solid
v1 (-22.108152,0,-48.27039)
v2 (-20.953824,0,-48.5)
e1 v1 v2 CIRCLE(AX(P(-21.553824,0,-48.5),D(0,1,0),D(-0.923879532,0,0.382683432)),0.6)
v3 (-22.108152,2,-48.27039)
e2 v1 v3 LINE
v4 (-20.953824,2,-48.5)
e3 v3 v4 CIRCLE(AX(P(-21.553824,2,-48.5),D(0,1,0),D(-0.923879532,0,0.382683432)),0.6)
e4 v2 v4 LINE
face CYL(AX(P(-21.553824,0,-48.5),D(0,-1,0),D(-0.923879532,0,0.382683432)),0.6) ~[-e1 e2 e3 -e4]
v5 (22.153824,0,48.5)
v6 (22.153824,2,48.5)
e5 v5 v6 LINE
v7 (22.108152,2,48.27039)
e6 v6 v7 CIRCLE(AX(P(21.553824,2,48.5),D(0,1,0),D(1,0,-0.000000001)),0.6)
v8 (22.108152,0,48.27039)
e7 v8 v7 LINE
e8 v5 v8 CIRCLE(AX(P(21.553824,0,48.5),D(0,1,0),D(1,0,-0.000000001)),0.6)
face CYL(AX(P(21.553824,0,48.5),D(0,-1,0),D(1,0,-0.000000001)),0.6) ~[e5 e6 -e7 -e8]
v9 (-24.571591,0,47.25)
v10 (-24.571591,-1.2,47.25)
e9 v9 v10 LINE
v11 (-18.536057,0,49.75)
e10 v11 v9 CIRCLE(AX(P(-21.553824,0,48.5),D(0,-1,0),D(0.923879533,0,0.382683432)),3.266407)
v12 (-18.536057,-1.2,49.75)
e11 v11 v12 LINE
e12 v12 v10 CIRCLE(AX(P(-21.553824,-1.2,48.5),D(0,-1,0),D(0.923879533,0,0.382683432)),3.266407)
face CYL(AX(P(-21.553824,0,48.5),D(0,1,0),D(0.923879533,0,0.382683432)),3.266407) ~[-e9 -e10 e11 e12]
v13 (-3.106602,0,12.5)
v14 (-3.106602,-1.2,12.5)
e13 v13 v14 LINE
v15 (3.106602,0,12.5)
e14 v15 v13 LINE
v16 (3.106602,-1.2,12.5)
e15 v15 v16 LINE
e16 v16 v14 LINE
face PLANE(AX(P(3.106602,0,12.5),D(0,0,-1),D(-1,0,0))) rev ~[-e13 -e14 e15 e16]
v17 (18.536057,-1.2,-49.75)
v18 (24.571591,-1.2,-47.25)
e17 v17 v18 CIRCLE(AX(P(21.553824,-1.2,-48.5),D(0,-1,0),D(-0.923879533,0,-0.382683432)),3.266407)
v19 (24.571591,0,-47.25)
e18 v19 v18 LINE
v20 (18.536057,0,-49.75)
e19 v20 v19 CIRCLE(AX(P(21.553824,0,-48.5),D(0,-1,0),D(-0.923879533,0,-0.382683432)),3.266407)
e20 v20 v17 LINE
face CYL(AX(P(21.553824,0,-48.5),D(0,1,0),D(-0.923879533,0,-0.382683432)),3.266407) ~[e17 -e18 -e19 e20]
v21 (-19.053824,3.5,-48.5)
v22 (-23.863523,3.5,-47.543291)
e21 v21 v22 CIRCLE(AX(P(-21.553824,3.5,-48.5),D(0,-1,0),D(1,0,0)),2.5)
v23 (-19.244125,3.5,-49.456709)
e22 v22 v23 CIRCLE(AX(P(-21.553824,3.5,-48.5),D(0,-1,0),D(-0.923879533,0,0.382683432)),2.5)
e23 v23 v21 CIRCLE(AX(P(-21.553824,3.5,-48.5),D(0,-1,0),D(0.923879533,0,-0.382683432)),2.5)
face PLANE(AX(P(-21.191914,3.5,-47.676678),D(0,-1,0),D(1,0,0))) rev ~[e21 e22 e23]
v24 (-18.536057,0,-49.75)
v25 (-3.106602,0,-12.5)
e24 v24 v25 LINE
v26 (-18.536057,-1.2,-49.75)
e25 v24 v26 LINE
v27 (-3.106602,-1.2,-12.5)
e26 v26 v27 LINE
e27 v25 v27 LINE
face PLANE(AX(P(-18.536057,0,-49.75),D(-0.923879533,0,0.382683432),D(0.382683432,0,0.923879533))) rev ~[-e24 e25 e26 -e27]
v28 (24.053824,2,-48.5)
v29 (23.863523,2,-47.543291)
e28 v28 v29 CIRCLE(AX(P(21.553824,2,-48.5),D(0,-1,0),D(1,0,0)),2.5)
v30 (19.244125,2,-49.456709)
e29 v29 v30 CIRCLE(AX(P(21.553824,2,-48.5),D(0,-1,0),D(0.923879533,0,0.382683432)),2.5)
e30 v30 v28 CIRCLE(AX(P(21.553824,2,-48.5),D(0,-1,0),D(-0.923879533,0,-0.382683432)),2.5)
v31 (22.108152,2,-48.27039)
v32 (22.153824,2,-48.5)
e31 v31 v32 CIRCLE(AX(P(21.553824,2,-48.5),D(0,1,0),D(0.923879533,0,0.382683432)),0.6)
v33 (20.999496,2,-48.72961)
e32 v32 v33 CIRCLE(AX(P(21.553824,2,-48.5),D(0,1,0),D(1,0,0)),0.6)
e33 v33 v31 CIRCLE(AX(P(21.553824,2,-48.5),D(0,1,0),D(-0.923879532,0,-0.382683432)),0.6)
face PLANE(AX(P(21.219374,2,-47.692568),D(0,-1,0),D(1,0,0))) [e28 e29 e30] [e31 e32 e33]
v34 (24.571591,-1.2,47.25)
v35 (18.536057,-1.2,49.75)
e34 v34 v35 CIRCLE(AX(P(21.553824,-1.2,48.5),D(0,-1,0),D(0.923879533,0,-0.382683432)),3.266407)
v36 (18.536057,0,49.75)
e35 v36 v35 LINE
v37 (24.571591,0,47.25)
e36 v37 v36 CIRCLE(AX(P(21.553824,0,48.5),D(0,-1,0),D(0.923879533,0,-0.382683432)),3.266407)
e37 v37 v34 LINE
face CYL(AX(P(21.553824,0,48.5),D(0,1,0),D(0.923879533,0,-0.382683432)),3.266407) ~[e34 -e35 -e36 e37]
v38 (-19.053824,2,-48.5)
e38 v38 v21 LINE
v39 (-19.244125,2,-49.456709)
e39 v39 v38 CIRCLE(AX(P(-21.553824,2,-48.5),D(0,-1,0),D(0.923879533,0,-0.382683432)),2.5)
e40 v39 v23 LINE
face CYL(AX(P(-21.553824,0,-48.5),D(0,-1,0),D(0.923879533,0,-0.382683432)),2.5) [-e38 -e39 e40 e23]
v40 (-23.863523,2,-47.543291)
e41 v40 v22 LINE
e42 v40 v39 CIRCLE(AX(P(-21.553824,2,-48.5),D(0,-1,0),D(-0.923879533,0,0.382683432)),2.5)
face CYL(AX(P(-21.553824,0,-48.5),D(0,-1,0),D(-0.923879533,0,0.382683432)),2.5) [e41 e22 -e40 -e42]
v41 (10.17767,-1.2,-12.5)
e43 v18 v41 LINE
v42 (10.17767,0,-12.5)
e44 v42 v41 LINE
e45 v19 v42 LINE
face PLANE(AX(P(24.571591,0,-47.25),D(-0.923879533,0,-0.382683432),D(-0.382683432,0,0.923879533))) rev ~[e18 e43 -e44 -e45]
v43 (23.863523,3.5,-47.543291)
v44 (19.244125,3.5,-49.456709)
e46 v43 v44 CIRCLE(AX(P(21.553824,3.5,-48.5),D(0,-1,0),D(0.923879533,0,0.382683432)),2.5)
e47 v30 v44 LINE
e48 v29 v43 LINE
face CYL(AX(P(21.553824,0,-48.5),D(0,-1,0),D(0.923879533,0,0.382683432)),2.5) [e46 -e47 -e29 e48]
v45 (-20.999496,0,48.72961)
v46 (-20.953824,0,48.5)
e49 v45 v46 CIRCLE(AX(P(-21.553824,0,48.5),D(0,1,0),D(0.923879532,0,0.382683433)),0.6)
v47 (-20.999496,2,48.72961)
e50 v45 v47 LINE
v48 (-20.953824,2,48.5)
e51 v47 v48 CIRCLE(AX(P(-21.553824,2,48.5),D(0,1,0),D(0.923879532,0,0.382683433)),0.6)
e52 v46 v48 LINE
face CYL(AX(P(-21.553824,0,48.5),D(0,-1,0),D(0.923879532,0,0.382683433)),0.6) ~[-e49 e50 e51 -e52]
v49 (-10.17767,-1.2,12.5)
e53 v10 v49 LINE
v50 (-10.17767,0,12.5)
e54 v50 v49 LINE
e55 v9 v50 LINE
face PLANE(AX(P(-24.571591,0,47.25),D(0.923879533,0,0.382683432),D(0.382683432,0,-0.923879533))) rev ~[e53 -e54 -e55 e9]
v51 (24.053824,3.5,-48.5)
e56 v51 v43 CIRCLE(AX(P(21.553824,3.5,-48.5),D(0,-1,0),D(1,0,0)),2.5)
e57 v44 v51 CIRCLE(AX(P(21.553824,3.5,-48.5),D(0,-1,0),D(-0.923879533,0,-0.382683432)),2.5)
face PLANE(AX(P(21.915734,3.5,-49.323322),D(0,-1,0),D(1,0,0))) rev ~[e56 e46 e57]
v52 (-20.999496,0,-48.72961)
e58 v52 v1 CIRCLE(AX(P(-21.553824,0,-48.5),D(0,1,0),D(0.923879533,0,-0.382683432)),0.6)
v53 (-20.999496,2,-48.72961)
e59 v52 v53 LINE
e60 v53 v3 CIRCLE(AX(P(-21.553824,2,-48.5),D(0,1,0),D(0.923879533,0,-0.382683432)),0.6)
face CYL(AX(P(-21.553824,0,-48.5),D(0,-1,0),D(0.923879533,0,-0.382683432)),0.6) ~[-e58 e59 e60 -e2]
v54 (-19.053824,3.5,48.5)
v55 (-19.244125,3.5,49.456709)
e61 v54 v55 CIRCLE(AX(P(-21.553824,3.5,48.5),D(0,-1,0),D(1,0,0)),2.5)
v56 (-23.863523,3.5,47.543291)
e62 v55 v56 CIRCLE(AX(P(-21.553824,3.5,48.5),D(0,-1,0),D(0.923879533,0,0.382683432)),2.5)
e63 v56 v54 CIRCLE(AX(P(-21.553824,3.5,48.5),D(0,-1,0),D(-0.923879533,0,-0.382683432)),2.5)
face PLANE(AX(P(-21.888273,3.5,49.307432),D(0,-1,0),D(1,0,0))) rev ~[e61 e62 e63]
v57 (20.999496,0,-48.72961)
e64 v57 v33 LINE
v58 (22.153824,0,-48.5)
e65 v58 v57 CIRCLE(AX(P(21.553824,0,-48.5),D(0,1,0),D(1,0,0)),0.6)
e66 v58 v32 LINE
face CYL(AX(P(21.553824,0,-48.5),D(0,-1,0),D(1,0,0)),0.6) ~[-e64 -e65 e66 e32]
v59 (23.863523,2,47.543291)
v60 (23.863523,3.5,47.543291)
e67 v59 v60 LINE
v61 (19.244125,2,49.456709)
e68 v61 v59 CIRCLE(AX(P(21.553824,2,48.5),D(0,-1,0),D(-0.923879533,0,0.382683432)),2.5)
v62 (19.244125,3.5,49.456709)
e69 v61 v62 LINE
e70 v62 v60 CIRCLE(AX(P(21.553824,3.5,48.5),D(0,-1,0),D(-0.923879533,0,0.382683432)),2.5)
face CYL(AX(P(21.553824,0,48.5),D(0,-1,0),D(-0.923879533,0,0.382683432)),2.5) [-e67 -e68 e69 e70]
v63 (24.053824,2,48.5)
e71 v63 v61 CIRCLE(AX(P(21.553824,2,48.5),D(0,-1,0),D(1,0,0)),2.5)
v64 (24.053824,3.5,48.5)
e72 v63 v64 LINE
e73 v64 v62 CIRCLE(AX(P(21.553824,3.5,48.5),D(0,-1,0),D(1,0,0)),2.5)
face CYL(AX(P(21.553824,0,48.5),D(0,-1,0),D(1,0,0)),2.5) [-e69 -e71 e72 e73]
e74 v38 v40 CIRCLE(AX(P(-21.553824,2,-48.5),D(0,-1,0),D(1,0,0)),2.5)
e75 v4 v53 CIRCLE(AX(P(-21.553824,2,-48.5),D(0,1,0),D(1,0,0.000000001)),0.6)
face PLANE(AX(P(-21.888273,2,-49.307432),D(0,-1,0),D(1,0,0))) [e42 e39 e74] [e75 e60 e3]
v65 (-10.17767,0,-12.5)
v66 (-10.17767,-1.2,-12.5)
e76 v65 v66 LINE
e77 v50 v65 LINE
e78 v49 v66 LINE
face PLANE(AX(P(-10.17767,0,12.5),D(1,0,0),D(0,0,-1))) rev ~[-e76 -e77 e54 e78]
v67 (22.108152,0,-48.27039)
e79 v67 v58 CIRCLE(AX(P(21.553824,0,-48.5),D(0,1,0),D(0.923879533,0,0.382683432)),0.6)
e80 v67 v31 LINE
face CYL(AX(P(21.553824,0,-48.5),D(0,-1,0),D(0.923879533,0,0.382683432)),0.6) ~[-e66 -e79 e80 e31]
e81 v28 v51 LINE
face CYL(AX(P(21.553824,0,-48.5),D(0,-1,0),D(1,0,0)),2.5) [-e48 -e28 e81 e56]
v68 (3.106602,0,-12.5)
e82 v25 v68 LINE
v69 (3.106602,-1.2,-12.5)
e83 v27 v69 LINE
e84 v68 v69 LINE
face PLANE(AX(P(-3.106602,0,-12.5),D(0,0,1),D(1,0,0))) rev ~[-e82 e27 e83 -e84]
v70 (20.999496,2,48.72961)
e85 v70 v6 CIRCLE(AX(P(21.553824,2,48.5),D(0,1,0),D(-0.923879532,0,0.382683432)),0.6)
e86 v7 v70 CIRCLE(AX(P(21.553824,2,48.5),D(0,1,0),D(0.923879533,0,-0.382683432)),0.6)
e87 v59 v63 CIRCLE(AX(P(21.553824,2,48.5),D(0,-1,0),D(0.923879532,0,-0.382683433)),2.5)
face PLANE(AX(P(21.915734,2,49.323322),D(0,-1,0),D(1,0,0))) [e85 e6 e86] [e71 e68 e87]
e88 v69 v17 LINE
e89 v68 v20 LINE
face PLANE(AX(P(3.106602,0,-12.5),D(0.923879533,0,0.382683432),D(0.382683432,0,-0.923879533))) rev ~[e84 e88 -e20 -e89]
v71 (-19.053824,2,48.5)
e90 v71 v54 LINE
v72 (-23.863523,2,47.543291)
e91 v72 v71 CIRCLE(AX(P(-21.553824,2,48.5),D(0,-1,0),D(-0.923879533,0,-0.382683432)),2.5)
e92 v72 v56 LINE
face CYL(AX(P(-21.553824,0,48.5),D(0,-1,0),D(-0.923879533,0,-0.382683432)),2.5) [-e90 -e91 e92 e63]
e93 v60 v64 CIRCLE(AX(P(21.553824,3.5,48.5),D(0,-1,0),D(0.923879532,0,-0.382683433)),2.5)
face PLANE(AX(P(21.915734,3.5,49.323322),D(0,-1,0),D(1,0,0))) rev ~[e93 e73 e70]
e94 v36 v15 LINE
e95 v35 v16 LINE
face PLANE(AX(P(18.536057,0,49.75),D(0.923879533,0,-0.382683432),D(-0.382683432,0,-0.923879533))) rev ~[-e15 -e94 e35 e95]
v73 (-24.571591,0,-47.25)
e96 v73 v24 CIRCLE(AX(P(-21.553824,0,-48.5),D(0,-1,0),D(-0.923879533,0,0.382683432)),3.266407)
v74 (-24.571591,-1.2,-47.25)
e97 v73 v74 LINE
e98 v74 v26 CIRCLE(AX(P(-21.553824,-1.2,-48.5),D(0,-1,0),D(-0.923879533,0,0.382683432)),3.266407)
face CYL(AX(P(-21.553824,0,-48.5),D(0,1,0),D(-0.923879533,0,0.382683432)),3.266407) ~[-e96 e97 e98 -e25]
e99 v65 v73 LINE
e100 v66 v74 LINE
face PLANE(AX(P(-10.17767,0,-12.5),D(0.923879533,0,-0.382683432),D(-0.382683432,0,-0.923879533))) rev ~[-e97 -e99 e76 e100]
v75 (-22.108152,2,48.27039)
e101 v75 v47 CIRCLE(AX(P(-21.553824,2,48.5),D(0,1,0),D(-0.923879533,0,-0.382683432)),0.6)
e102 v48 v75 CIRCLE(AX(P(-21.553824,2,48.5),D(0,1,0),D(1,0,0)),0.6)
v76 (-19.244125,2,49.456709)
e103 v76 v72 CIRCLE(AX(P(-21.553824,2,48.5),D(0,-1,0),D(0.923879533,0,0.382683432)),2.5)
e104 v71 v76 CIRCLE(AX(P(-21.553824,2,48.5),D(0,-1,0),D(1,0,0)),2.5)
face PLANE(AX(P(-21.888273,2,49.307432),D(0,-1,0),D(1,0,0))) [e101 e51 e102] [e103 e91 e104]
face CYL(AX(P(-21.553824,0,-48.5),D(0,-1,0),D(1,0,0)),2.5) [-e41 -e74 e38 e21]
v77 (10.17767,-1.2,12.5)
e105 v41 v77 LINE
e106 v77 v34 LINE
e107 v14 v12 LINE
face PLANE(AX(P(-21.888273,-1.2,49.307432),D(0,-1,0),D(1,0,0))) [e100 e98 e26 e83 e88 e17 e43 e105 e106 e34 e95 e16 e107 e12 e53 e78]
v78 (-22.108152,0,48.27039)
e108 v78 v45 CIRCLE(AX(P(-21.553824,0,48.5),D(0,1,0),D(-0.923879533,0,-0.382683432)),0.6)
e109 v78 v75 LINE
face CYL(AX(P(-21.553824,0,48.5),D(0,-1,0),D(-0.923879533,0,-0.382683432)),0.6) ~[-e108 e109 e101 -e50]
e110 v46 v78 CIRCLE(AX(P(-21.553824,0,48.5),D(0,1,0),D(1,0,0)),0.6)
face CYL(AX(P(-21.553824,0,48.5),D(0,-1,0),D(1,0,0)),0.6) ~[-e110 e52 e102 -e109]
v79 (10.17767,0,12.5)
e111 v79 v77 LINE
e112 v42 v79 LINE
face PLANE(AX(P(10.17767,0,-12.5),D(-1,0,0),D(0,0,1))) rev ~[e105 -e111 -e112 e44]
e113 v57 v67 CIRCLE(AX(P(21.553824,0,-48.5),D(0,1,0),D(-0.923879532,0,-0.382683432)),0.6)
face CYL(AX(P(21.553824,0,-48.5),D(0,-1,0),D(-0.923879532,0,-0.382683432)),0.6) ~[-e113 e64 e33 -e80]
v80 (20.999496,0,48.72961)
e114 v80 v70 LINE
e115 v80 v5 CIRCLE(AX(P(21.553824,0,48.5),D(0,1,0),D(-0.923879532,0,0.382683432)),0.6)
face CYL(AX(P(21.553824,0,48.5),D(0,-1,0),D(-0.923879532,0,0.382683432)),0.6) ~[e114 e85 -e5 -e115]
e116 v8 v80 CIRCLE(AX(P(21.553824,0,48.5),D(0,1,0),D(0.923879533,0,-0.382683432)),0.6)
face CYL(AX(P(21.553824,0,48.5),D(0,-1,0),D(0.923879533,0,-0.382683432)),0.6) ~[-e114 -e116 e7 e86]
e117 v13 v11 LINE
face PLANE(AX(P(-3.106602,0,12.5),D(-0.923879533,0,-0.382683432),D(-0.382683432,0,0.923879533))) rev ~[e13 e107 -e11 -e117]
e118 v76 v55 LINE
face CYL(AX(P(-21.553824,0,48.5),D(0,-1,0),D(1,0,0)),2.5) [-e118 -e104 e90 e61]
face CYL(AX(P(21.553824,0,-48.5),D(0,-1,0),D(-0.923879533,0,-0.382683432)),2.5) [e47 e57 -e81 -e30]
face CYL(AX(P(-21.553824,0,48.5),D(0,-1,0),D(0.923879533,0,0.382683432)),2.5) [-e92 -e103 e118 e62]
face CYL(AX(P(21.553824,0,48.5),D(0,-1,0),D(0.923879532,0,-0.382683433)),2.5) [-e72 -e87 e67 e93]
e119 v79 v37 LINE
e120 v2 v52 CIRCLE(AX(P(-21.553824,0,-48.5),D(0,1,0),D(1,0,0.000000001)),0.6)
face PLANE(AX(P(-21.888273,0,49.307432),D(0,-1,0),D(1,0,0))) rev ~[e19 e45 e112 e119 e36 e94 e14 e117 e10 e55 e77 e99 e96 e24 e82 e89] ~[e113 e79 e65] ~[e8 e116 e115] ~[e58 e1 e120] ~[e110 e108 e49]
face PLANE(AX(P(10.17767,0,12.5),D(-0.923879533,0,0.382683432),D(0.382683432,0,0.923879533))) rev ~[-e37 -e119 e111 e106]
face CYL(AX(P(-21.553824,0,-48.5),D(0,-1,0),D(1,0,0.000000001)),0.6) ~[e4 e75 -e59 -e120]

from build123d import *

# Parameters (mm, degrees)
F1_DEPTH = 1.2
F2_DEPTH = 3.5
F3_DEPTH = 2


with BuildPart() as f1:
    # F0 (on Front) → F1 (new body)
    with BuildSketch(Plane.XZ):
        with BuildLine():
            ThreePointArc((-19.2441250379, 49.4567085809), (-22.5105324501, 50.8096988313), (-23.8635227004, 47.5432914191))
            Line((-23.8635227004, 47.5432914191), (-22.1081515887, 48.2703899406))
            ThreePointArc((-22.1081515887, 48.2703899406), (-21.7834339286, 49.0543277195), (-20.9994961497, 48.7296100594))
            Line((-20.9994961497, 48.7296100594), (-19.2441250379, 49.4567085809))
        make_face()
        with BuildLine():
            Line((-22.1081515887, 48.2703899406), (-23.8635227004, 47.5432914191))
            ThreePointArc((-23.8635227004, 47.5432914191), (-21.0660980641, 46.048036799), (-19.0538238692, 48.5))
            ThreePointArc((-19.0538238692, 48.5), (-19.1018606682, 48.987725805), (-19.2441250379, 49.4567085809))
            Line((-19.2441250379, 49.4567085809), (-20.9994961497, 48.7296100594))
            ThreePointArc((-20.9994961497, 48.7296100594), (-20.9653527009, 48.6170541932), (-20.9538238692, 48.5))
            ThreePointArc((-20.9538238692, 48.5), (-21.436769676, 47.9115288318), (-22.1081515887, 48.2703899406))
        make_face()
        with BuildLine():
            Line((-20.9994961497, 48.7296100594), (-22.1081515887, 48.2703899406))
            ThreePointArc((-22.1081515887, 48.2703899406), (-21.436769676, 47.9115288318), (-20.9538238692, 48.5))
            ThreePointArc((-20.9538238692, 48.5), (-20.9653527009, 48.6170541932), (-20.9994961497, 48.7296100594))
        make_face()
        with BuildLine():
            ThreePointArc((-20.9994961497, 48.7296100594), (-21.7834339286, 49.0543277195), (-22.1081515887, 48.2703899406))
            Line((-22.1081515887, 48.2703899406), (-20.9994961497, 48.7296100594))
        make_face()
        with BuildLine():
            ThreePointArc((22.1538238692, 48.5), (21.6708780624, 49.0884711682), (20.9994961497, 48.7296100594))
            Line((20.9994961497, 48.7296100594), (22.1081515887, 48.2703899406))
            ThreePointArc((22.1081515887, 48.2703899406), (22.1422950374, 48.3829458068), (22.1538238692, 48.5))
        make_face()
        with BuildLine():
            ThreePointArc((24.0538238692, 48.5), (22.0415496742, 50.951963201), (19.2441250379, 49.4567085809))
            Line((19.2441250379, 49.4567085809), (20.9994961497, 48.7296100594))
            ThreePointArc((20.9994961497, 48.7296100594), (21.6708780624, 49.0884711682), (22.1538238692, 48.5))
            ThreePointArc((22.1538238692, 48.5), (22.1422950374, 48.3829458068), (22.1081515887, 48.2703899406))
            Line((22.1081515887, 48.2703899406), (23.8635227004, 47.5432914191))
            ThreePointArc((23.8635227004, 47.5432914191), (24.0057870702, 48.012274195), (24.0538238692, 48.5))
        make_face()
        with BuildLine():
            Line((20.9994961497, 48.7296100594), (19.2441250379, 49.4567085809))
            ThreePointArc((19.2441250379, 49.4567085809), (20.5971152882, 46.1903011687), (23.8635227004, 47.5432914191))
            Line((23.8635227004, 47.5432914191), (22.1081515887, 48.2703899406))
            ThreePointArc((22.1081515887, 48.2703899406), (21.3242138097, 47.9456722805), (20.9994961497, 48.7296100594))
        make_face()
        with BuildLine():
            Line((22.1081515887, 48.2703899406), (20.9994961497, 48.7296100594))
            ThreePointArc((20.9994961497, 48.7296100594), (21.3242138097, 47.9456722805), (22.1081515887, 48.2703899406))
        make_face()
        with BuildLine():
            Line((-22.1081515887, -48.2703899406), (-23.8635227004, -47.5432914191))
            ThreePointArc((-23.8635227004, -47.5432914191), (-22.5105324501, -50.8096988313), (-19.2441250379, -49.4567085809))
            Line((-19.2441250379, -49.4567085809), (-20.9994961497, -48.7296100594))
            ThreePointArc((-20.9994961497, -48.7296100594), (-21.7834339286, -49.0543277195), (-22.1081515887, -48.2703899406))
        make_face()
        with BuildLine():
            Line((-20.9994961497, -48.7296100594), (-22.1081515887, -48.2703899406))
            ThreePointArc((-22.1081515887, -48.2703899406), (-21.7834339286, -49.0543277195), (-20.9994961497, -48.7296100594))
        make_face()
        with BuildLine():
            ThreePointArc((-20.9538238692, -48.5), (-21.436769676, -47.9115288318), (-22.1081515887, -48.2703899406))
            Line((-22.1081515887, -48.2703899406), (-20.9994961497, -48.7296100594))
            ThreePointArc((-20.9994961497, -48.7296100594), (-20.9653527009, -48.6170541932), (-20.9538238692, -48.5))
        make_face()
        with BuildLine():
            ThreePointArc((-19.0538238692, -48.5), (-21.0660980641, -46.048036799), (-23.8635227004, -47.5432914191))
            Line((-23.8635227004, -47.5432914191), (-22.1081515887, -48.2703899406))
            ThreePointArc((-22.1081515887, -48.2703899406), (-21.436769676, -47.9115288318), (-20.9538238692, -48.5))
            ThreePointArc((-20.9538238692, -48.5), (-20.9653527009, -48.6170541932), (-20.9994961497, -48.7296100594))
            Line((-20.9994961497, -48.7296100594), (-19.2441250379, -49.4567085809))
            ThreePointArc((-19.2441250379, -49.4567085809), (-19.1018606682, -48.987725805), (-19.0538238692, -48.5))
        make_face()
        with BuildLine():
            ThreePointArc((23.8635227004, -47.5432914191), (20.5971152882, -46.1903011687), (19.2441250379, -49.4567085809))
            Line((19.2441250379, -49.4567085809), (20.9994961497, -48.7296100594))
            ThreePointArc((20.9994961497, -48.7296100594), (21.3242138097, -47.9456722805), (22.1081515887, -48.2703899406))
            Line((22.1081515887, -48.2703899406), (23.8635227004, -47.5432914191))
        make_face()
        with BuildLine():
            Line((20.9994961497, -48.7296100594), (19.2441250379, -49.4567085809))
            ThreePointArc((19.2441250379, -49.4567085809), (22.0415496742, -50.951963201), (24.0538238692, -48.5))
            ThreePointArc((24.0538238692, -48.5), (24.0057870702, -48.012274195), (23.8635227004, -47.5432914191))
            Line((23.8635227004, -47.5432914191), (22.1081515887, -48.2703899406))
            ThreePointArc((22.1081515887, -48.2703899406), (22.1422950374, -48.3829458068), (22.1538238692, -48.5))
            ThreePointArc((22.1538238692, -48.5), (21.6708780624, -49.0884711682), (20.9994961497, -48.7296100594))
        make_face()
        with BuildLine():
            Line((22.1081515887, -48.2703899406), (20.9994961497, -48.7296100594))
            ThreePointArc((20.9994961497, -48.7296100594), (21.6708780624, -49.0884711682), (22.1538238692, -48.5))
            ThreePointArc((22.1538238692, -48.5), (22.1422950374, -48.3829458068), (22.1081515887, -48.2703899406))
        make_face()
        with BuildLine():
            ThreePointArc((22.1081515887, -48.2703899406), (21.3242138097, -47.9456722805), (20.9994961497, -48.7296100594))
            Line((20.9994961497, -48.7296100594), (22.1081515887, -48.2703899406))
        make_face()
        Polygon((-10.1776695297, 12.5), (-5, 0), (-10.1776695297, -12.5), (-3.1066017178, -12.5), (0, -5), (3.1066017178, -12.5), (10.1776695297, -12.5), (5, 0), (10.1776695297, 12.5), (3.1066017178, 12.5), (0, 5), (-3.1066017178, 12.5), align=None)
        with BuildLine():
            Line((-24.5715908221, 47.25), (-10.1776695297, 12.5))
            Line((-10.1776695297, 12.5), (-3.1066017178, 12.5))
            Line((-3.1066017178, 12.5), (-18.5360569162, 49.75))
            Line((-18.5360569162, 49.75), (-19.2441250379, 49.4567085809))
            ThreePointArc((-19.2441250379, 49.4567085809), (-19.1018606682, 48.987725805), (-19.0538238692, 48.5))
            ThreePointArc((-19.0538238692, 48.5), (-21.0660980641, 46.048036799), (-23.8635227004, 47.5432914191))
            Line((-23.8635227004, 47.5432914191), (-24.5715908221, 47.25))
        make_face()
        with BuildLine():
            ThreePointArc((-18.5360569162, 49.75), (-22.8038238692, 51.517766953), (-24.5715908221, 47.25))
            Line((-24.5715908221, 47.25), (-23.8635227004, 47.5432914191))
            ThreePointArc((-23.8635227004, 47.5432914191), (-22.5105324501, 50.8096988313), (-19.2441250379, 49.4567085809))
            Line((-19.2441250379, 49.4567085809), (-18.5360569162, 49.75))
        make_face()
        with BuildLine():
            ThreePointArc((24.5715908221, 47.25), (22.8038238692, 51.517766953), (18.5360569162, 49.75))
            Line((18.5360569162, 49.75), (19.2441250379, 49.4567085809))
            ThreePointArc((19.2441250379, 49.4567085809), (22.0415496742, 50.951963201), (24.0538238692, 48.5))
            ThreePointArc((24.0538238692, 48.5), (24.0057870702, 48.012274195), (23.8635227004, 47.5432914191))
            Line((23.8635227004, 47.5432914191), (24.5715908221, 47.25))
        make_face()
        with BuildLine():
            Line((-23.8635227004, -47.5432914191), (-24.5715908221, -47.25))
            ThreePointArc((-24.5715908221, -47.25), (-22.8038238692, -51.517766953), (-18.5360569162, -49.75))
            Line((-18.5360569162, -49.75), (-19.2441250379, -49.4567085809))
            ThreePointArc((-19.2441250379, -49.4567085809), (-22.5105324501, -50.8096988313), (-23.8635227004, -47.5432914191))
        make_face()
        with BuildLine():
            Line((19.2441250379, -49.4567085809), (18.5360569162, -49.75))
            ThreePointArc((18.5360569162, -49.75), (22.8038238692, -51.517766953), (24.5715908221, -47.25))
            Line((24.5715908221, -47.25), (23.8635227004, -47.5432914191))
            ThreePointArc((23.8635227004, -47.5432914191), (24.0057870702, -48.012274195), (24.0538238692, -48.5))
            ThreePointArc((24.0538238692, -48.5), (22.0415496742, -50.951963201), (19.2441250379, -49.4567085809))
        make_face()
        Polygon((-10.1776695297, -12.5), (-5, 0), (-10.1776695297, 12.5), align=None)
        Polygon((3.1066017178, 12.5), (-3.1066017178, 12.5), (0, 5), align=None)
        with BuildLine():
            Line((18.5360569162, 49.75), (3.1066017178, 12.5))
            Line((3.1066017178, 12.5), (10.1776695297, 12.5))
            Line((10.1776695297, 12.5), (24.5715908221, 47.25))
            Line((24.5715908221, 47.25), (23.8635227004, 47.5432914191))
            ThreePointArc((23.8635227004, 47.5432914191), (20.5971152882, 46.1903011687), (19.2441250379, 49.4567085809))
            Line((19.2441250379, 49.4567085809), (18.5360569162, 49.75))
        make_face()
        Polygon((10.1776695297, -12.5), (10.1776695297, 12.5), (5, 0), align=None)
        Polygon((0, -5), (-3.1066017178, -12.5), (3.1066017178, -12.5), align=None)
        with BuildLine():
            Line((10.1776695297, -12.5), (3.1066017178, -12.5))
            Line((3.1066017178, -12.5), (18.5360569162, -49.75))
            Line((18.5360569162, -49.75), (19.2441250379, -49.4567085809))
            ThreePointArc((19.2441250379, -49.4567085809), (20.5971152882, -46.1903011687), (23.8635227004, -47.5432914191))
            Line((23.8635227004, -47.5432914191), (24.5715908221, -47.25))
            Line((24.5715908221, -47.25), (10.1776695297, -12.5))
        make_face()
        with BuildLine():
            Line((-3.1066017178, -12.5), (-10.1776695297, -12.5))
            Line((-10.1776695297, -12.5), (-24.5715908221, -47.25))
            Line((-24.5715908221, -47.25), (-23.8635227004, -47.5432914191))
            ThreePointArc((-23.8635227004, -47.5432914191), (-21.0660980641, -46.048036799), (-19.0538238692, -48.5))
            ThreePointArc((-19.0538238692, -48.5), (-19.1018606682, -48.987725805), (-19.2441250379, -49.4567085809))
            Line((-19.2441250379, -49.4567085809), (-18.5360569162, -49.75))
            Line((-18.5360569162, -49.75), (-3.1066017178, -12.5))
        make_face()
    extrude(amount=F1_DEPTH)

    # F0 (on Front) → F2 (join)
    with BuildSketch(Plane.XZ):
        with BuildLine():
            ThreePointArc((24.0538238692, 48.5), (22.0415496742, 50.951963201), (19.2441250379, 49.4567085809))
            Line((19.2441250379, 49.4567085809), (20.9994961497, 48.7296100594))
            ThreePointArc((20.9994961497, 48.7296100594), (21.6708780624, 49.0884711682), (22.1538238692, 48.5))
            ThreePointArc((22.1538238692, 48.5), (22.1422950374, 48.3829458068), (22.1081515887, 48.2703899406))
            Line((22.1081515887, 48.2703899406), (23.8635227004, 47.5432914191))
            ThreePointArc((23.8635227004, 47.5432914191), (24.0057870702, 48.012274195), (24.0538238692, 48.5))
        make_face()
        with BuildLine():
            Line((20.9994961497, 48.7296100594), (19.2441250379, 49.4567085809))
            ThreePointArc((19.2441250379, 49.4567085809), (20.5971152882, 46.1903011687), (23.8635227004, 47.5432914191))
            Line((23.8635227004, 47.5432914191), (22.1081515887, 48.2703899406))
            ThreePointArc((22.1081515887, 48.2703899406), (21.3242138097, 47.9456722805), (20.9994961497, 48.7296100594))
        make_face()
        with BuildLine():
            ThreePointArc((-19.2441250379, 49.4567085809), (-22.5105324501, 50.8096988313), (-23.8635227004, 47.5432914191))
            Line((-23.8635227004, 47.5432914191), (-22.1081515887, 48.2703899406))
            ThreePointArc((-22.1081515887, 48.2703899406), (-21.7834339286, 49.0543277195), (-20.9994961497, 48.7296100594))
            Line((-20.9994961497, 48.7296100594), (-19.2441250379, 49.4567085809))
        make_face()
        with BuildLine():
            Line((-22.1081515887, 48.2703899406), (-23.8635227004, 47.5432914191))
            ThreePointArc((-23.8635227004, 47.5432914191), (-21.0660980641, 46.048036799), (-19.0538238692, 48.5))
            ThreePointArc((-19.0538238692, 48.5), (-19.1018606682, 48.987725805), (-19.2441250379, 49.4567085809))
            Line((-19.2441250379, 49.4567085809), (-20.9994961497, 48.7296100594))
            ThreePointArc((-20.9994961497, 48.7296100594), (-20.9653527009, 48.6170541932), (-20.9538238692, 48.5))
            ThreePointArc((-20.9538238692, 48.5), (-21.436769676, 47.9115288318), (-22.1081515887, 48.2703899406))
        make_face()
        with BuildLine():
            ThreePointArc((-19.0538238692, -48.5), (-21.0660980641, -46.048036799), (-23.8635227004, -47.5432914191))
            Line((-23.8635227004, -47.5432914191), (-22.1081515887, -48.2703899406))
            ThreePointArc((-22.1081515887, -48.2703899406), (-21.436769676, -47.9115288318), (-20.9538238692, -48.5))
            ThreePointArc((-20.9538238692, -48.5), (-20.9653527009, -48.6170541932), (-20.9994961497, -48.7296100594))
            Line((-20.9994961497, -48.7296100594), (-19.2441250379, -49.4567085809))
            ThreePointArc((-19.2441250379, -49.4567085809), (-19.1018606682, -48.987725805), (-19.0538238692, -48.5))
        make_face()
        with BuildLine():
            Line((-22.1081515887, -48.2703899406), (-23.8635227004, -47.5432914191))
            ThreePointArc((-23.8635227004, -47.5432914191), (-22.5105324501, -50.8096988313), (-19.2441250379, -49.4567085809))
            Line((-19.2441250379, -49.4567085809), (-20.9994961497, -48.7296100594))
            ThreePointArc((-20.9994961497, -48.7296100594), (-21.7834339286, -49.0543277195), (-22.1081515887, -48.2703899406))
        make_face()
        with BuildLine():
            Line((20.9994961497, -48.7296100594), (19.2441250379, -49.4567085809))
            ThreePointArc((19.2441250379, -49.4567085809), (22.0415496742, -50.951963201), (24.0538238692, -48.5))
            ThreePointArc((24.0538238692, -48.5), (24.0057870702, -48.012274195), (23.8635227004, -47.5432914191))
            Line((23.8635227004, -47.5432914191), (22.1081515887, -48.2703899406))
            ThreePointArc((22.1081515887, -48.2703899406), (22.1422950374, -48.3829458068), (22.1538238692, -48.5))
            ThreePointArc((22.1538238692, -48.5), (21.6708780624, -49.0884711682), (20.9994961497, -48.7296100594))
        make_face()
        with BuildLine():
            ThreePointArc((23.8635227004, -47.5432914191), (20.5971152882, -46.1903011687), (19.2441250379, -49.4567085809))
            Line((19.2441250379, -49.4567085809), (20.9994961497, -48.7296100594))
            ThreePointArc((20.9994961497, -48.7296100594), (21.3242138097, -47.9456722805), (22.1081515887, -48.2703899406))
            Line((22.1081515887, -48.2703899406), (23.8635227004, -47.5432914191))
        make_face()
        with BuildLine():
            Line((22.1081515887, -48.2703899406), (20.9994961497, -48.7296100594))
            ThreePointArc((20.9994961497, -48.7296100594), (21.6708780624, -49.0884711682), (22.1538238692, -48.5))
            ThreePointArc((22.1538238692, -48.5), (22.1422950374, -48.3829458068), (22.1081515887, -48.2703899406))
        make_face()
        with BuildLine():
            ThreePointArc((22.1081515887, -48.2703899406), (21.3242138097, -47.9456722805), (20.9994961497, -48.7296100594))
            Line((20.9994961497, -48.7296100594), (22.1081515887, -48.2703899406))
        make_face()
        with BuildLine():
            ThreePointArc((22.1538238692, 48.5), (21.6708780624, 49.0884711682), (20.9994961497, 48.7296100594))
            Line((20.9994961497, 48.7296100594), (22.1081515887, 48.2703899406))
            ThreePointArc((22.1081515887, 48.2703899406), (22.1422950374, 48.3829458068), (22.1538238692, 48.5))
        make_face()
        with BuildLine():
            Line((22.1081515887, 48.2703899406), (20.9994961497, 48.7296100594))
            ThreePointArc((20.9994961497, 48.7296100594), (21.3242138097, 47.9456722805), (22.1081515887, 48.2703899406))
        make_face()
        with BuildLine():
            Line((-20.9994961497, 48.7296100594), (-22.1081515887, 48.2703899406))
            ThreePointArc((-22.1081515887, 48.2703899406), (-21.436769676, 47.9115288318), (-20.9538238692, 48.5))
            ThreePointArc((-20.9538238692, 48.5), (-20.9653527009, 48.6170541932), (-20.9994961497, 48.7296100594))
        make_face()
        with BuildLine():
            ThreePointArc((-20.9994961497, 48.7296100594), (-21.7834339286, 49.0543277195), (-22.1081515887, 48.2703899406))
            Line((-22.1081515887, 48.2703899406), (-20.9994961497, 48.7296100594))
        make_face()
        with BuildLine():
            ThreePointArc((-20.9538238692, -48.5), (-21.436769676, -47.9115288318), (-22.1081515887, -48.2703899406))
            Line((-22.1081515887, -48.2703899406), (-20.9994961497, -48.7296100594))
            ThreePointArc((-20.9994961497, -48.7296100594), (-20.9653527009, -48.6170541932), (-20.9538238692, -48.5))
        make_face()
        with BuildLine():
            Line((-20.9994961497, -48.7296100594), (-22.1081515887, -48.2703899406))
            ThreePointArc((-22.1081515887, -48.2703899406), (-21.7834339286, -49.0543277195), (-20.9994961497, -48.7296100594))
        make_face()
    extrude(amount=-F2_DEPTH)

    # F0 (on Front) → F3 (cut)
    with BuildSketch(Plane.XZ):
        with BuildLine():
            ThreePointArc((-19.2441250379, 49.4567085809), (-22.5105324501, 50.8096988313), (-23.8635227004, 47.5432914191))
            Line((-23.8635227004, 47.5432914191), (-22.1081515887, 48.2703899406))
            ThreePointArc((-22.1081515887, 48.2703899406), (-21.7834339286, 49.0543277195), (-20.9994961497, 48.7296100594))
            Line((-20.9994961497, 48.7296100594), (-19.2441250379, 49.4567085809))
        make_face()
        with BuildLine():
            Line((-22.1081515887, 48.2703899406), (-23.8635227004, 47.5432914191))
            ThreePointArc((-23.8635227004, 47.5432914191), (-21.0660980641, 46.048036799), (-19.0538238692, 48.5))
            ThreePointArc((-19.0538238692, 48.5), (-19.1018606682, 48.987725805), (-19.2441250379, 49.4567085809))
            Line((-19.2441250379, 49.4567085809), (-20.9994961497, 48.7296100594))
            ThreePointArc((-20.9994961497, 48.7296100594), (-20.9653527009, 48.6170541932), (-20.9538238692, 48.5))
            ThreePointArc((-20.9538238692, 48.5), (-21.436769676, 47.9115288318), (-22.1081515887, 48.2703899406))
        make_face()
        with BuildLine():
            ThreePointArc((24.0538238692, 48.5), (22.0415496742, 50.951963201), (19.2441250379, 49.4567085809))
            Line((19.2441250379, 49.4567085809), (20.9994961497, 48.7296100594))
            ThreePointArc((20.9994961497, 48.7296100594), (21.6708780624, 49.0884711682), (22.1538238692, 48.5))
            ThreePointArc((22.1538238692, 48.5), (22.1422950374, 48.3829458068), (22.1081515887, 48.2703899406))
            Line((22.1081515887, 48.2703899406), (23.8635227004, 47.5432914191))
            ThreePointArc((23.8635227004, 47.5432914191), (24.0057870702, 48.012274195), (24.0538238692, 48.5))
        make_face()
        with BuildLine():
            Line((20.9994961497, 48.7296100594), (19.2441250379, 49.4567085809))
            ThreePointArc((19.2441250379, 49.4567085809), (20.5971152882, 46.1903011687), (23.8635227004, 47.5432914191))
            Line((23.8635227004, 47.5432914191), (22.1081515887, 48.2703899406))
            ThreePointArc((22.1081515887, 48.2703899406), (21.3242138097, 47.9456722805), (20.9994961497, 48.7296100594))
        make_face()
        with BuildLine():
            ThreePointArc((23.8635227004, -47.5432914191), (20.5971152882, -46.1903011687), (19.2441250379, -49.4567085809))
            Line((19.2441250379, -49.4567085809), (20.9994961497, -48.7296100594))
            ThreePointArc((20.9994961497, -48.7296100594), (21.3242138097, -47.9456722805), (22.1081515887, -48.2703899406))
            Line((22.1081515887, -48.2703899406), (23.8635227004, -47.5432914191))
        make_face()
        with BuildLine():
            Line((20.9994961497, -48.7296100594), (19.2441250379, -49.4567085809))
            ThreePointArc((19.2441250379, -49.4567085809), (22.0415496742, -50.951963201), (24.0538238692, -48.5))
            ThreePointArc((24.0538238692, -48.5), (24.0057870702, -48.012274195), (23.8635227004, -47.5432914191))
            Line((23.8635227004, -47.5432914191), (22.1081515887, -48.2703899406))
            ThreePointArc((22.1081515887, -48.2703899406), (22.1422950374, -48.3829458068), (22.1538238692, -48.5))
            ThreePointArc((22.1538238692, -48.5), (21.6708780624, -49.0884711682), (20.9994961497, -48.7296100594))
        make_face()
        with BuildLine():
            Line((-22.1081515887, -48.2703899406), (-23.8635227004, -47.5432914191))
            ThreePointArc((-23.8635227004, -47.5432914191), (-22.5105324501, -50.8096988313), (-19.2441250379, -49.4567085809))
            Line((-19.2441250379, -49.4567085809), (-20.9994961497, -48.7296100594))
            ThreePointArc((-20.9994961497, -48.7296100594), (-21.7834339286, -49.0543277195), (-22.1081515887, -48.2703899406))
        make_face()
        with BuildLine():
            ThreePointArc((-19.0538238692, -48.5), (-21.0660980641, -46.048036799), (-23.8635227004, -47.5432914191))
            Line((-23.8635227004, -47.5432914191), (-22.1081515887, -48.2703899406))
            ThreePointArc((-22.1081515887, -48.2703899406), (-21.436769676, -47.9115288318), (-20.9538238692, -48.5))
            ThreePointArc((-20.9538238692, -48.5), (-20.9653527009, -48.6170541932), (-20.9994961497, -48.7296100594))
            Line((-20.9994961497, -48.7296100594), (-19.2441250379, -49.4567085809))
            ThreePointArc((-19.2441250379, -49.4567085809), (-19.1018606682, -48.987725805), (-19.0538238692, -48.5))
        make_face()
    extrude(amount=-F3_DEPTH, mode=Mode.SUBTRACT)


solid = f1.part
